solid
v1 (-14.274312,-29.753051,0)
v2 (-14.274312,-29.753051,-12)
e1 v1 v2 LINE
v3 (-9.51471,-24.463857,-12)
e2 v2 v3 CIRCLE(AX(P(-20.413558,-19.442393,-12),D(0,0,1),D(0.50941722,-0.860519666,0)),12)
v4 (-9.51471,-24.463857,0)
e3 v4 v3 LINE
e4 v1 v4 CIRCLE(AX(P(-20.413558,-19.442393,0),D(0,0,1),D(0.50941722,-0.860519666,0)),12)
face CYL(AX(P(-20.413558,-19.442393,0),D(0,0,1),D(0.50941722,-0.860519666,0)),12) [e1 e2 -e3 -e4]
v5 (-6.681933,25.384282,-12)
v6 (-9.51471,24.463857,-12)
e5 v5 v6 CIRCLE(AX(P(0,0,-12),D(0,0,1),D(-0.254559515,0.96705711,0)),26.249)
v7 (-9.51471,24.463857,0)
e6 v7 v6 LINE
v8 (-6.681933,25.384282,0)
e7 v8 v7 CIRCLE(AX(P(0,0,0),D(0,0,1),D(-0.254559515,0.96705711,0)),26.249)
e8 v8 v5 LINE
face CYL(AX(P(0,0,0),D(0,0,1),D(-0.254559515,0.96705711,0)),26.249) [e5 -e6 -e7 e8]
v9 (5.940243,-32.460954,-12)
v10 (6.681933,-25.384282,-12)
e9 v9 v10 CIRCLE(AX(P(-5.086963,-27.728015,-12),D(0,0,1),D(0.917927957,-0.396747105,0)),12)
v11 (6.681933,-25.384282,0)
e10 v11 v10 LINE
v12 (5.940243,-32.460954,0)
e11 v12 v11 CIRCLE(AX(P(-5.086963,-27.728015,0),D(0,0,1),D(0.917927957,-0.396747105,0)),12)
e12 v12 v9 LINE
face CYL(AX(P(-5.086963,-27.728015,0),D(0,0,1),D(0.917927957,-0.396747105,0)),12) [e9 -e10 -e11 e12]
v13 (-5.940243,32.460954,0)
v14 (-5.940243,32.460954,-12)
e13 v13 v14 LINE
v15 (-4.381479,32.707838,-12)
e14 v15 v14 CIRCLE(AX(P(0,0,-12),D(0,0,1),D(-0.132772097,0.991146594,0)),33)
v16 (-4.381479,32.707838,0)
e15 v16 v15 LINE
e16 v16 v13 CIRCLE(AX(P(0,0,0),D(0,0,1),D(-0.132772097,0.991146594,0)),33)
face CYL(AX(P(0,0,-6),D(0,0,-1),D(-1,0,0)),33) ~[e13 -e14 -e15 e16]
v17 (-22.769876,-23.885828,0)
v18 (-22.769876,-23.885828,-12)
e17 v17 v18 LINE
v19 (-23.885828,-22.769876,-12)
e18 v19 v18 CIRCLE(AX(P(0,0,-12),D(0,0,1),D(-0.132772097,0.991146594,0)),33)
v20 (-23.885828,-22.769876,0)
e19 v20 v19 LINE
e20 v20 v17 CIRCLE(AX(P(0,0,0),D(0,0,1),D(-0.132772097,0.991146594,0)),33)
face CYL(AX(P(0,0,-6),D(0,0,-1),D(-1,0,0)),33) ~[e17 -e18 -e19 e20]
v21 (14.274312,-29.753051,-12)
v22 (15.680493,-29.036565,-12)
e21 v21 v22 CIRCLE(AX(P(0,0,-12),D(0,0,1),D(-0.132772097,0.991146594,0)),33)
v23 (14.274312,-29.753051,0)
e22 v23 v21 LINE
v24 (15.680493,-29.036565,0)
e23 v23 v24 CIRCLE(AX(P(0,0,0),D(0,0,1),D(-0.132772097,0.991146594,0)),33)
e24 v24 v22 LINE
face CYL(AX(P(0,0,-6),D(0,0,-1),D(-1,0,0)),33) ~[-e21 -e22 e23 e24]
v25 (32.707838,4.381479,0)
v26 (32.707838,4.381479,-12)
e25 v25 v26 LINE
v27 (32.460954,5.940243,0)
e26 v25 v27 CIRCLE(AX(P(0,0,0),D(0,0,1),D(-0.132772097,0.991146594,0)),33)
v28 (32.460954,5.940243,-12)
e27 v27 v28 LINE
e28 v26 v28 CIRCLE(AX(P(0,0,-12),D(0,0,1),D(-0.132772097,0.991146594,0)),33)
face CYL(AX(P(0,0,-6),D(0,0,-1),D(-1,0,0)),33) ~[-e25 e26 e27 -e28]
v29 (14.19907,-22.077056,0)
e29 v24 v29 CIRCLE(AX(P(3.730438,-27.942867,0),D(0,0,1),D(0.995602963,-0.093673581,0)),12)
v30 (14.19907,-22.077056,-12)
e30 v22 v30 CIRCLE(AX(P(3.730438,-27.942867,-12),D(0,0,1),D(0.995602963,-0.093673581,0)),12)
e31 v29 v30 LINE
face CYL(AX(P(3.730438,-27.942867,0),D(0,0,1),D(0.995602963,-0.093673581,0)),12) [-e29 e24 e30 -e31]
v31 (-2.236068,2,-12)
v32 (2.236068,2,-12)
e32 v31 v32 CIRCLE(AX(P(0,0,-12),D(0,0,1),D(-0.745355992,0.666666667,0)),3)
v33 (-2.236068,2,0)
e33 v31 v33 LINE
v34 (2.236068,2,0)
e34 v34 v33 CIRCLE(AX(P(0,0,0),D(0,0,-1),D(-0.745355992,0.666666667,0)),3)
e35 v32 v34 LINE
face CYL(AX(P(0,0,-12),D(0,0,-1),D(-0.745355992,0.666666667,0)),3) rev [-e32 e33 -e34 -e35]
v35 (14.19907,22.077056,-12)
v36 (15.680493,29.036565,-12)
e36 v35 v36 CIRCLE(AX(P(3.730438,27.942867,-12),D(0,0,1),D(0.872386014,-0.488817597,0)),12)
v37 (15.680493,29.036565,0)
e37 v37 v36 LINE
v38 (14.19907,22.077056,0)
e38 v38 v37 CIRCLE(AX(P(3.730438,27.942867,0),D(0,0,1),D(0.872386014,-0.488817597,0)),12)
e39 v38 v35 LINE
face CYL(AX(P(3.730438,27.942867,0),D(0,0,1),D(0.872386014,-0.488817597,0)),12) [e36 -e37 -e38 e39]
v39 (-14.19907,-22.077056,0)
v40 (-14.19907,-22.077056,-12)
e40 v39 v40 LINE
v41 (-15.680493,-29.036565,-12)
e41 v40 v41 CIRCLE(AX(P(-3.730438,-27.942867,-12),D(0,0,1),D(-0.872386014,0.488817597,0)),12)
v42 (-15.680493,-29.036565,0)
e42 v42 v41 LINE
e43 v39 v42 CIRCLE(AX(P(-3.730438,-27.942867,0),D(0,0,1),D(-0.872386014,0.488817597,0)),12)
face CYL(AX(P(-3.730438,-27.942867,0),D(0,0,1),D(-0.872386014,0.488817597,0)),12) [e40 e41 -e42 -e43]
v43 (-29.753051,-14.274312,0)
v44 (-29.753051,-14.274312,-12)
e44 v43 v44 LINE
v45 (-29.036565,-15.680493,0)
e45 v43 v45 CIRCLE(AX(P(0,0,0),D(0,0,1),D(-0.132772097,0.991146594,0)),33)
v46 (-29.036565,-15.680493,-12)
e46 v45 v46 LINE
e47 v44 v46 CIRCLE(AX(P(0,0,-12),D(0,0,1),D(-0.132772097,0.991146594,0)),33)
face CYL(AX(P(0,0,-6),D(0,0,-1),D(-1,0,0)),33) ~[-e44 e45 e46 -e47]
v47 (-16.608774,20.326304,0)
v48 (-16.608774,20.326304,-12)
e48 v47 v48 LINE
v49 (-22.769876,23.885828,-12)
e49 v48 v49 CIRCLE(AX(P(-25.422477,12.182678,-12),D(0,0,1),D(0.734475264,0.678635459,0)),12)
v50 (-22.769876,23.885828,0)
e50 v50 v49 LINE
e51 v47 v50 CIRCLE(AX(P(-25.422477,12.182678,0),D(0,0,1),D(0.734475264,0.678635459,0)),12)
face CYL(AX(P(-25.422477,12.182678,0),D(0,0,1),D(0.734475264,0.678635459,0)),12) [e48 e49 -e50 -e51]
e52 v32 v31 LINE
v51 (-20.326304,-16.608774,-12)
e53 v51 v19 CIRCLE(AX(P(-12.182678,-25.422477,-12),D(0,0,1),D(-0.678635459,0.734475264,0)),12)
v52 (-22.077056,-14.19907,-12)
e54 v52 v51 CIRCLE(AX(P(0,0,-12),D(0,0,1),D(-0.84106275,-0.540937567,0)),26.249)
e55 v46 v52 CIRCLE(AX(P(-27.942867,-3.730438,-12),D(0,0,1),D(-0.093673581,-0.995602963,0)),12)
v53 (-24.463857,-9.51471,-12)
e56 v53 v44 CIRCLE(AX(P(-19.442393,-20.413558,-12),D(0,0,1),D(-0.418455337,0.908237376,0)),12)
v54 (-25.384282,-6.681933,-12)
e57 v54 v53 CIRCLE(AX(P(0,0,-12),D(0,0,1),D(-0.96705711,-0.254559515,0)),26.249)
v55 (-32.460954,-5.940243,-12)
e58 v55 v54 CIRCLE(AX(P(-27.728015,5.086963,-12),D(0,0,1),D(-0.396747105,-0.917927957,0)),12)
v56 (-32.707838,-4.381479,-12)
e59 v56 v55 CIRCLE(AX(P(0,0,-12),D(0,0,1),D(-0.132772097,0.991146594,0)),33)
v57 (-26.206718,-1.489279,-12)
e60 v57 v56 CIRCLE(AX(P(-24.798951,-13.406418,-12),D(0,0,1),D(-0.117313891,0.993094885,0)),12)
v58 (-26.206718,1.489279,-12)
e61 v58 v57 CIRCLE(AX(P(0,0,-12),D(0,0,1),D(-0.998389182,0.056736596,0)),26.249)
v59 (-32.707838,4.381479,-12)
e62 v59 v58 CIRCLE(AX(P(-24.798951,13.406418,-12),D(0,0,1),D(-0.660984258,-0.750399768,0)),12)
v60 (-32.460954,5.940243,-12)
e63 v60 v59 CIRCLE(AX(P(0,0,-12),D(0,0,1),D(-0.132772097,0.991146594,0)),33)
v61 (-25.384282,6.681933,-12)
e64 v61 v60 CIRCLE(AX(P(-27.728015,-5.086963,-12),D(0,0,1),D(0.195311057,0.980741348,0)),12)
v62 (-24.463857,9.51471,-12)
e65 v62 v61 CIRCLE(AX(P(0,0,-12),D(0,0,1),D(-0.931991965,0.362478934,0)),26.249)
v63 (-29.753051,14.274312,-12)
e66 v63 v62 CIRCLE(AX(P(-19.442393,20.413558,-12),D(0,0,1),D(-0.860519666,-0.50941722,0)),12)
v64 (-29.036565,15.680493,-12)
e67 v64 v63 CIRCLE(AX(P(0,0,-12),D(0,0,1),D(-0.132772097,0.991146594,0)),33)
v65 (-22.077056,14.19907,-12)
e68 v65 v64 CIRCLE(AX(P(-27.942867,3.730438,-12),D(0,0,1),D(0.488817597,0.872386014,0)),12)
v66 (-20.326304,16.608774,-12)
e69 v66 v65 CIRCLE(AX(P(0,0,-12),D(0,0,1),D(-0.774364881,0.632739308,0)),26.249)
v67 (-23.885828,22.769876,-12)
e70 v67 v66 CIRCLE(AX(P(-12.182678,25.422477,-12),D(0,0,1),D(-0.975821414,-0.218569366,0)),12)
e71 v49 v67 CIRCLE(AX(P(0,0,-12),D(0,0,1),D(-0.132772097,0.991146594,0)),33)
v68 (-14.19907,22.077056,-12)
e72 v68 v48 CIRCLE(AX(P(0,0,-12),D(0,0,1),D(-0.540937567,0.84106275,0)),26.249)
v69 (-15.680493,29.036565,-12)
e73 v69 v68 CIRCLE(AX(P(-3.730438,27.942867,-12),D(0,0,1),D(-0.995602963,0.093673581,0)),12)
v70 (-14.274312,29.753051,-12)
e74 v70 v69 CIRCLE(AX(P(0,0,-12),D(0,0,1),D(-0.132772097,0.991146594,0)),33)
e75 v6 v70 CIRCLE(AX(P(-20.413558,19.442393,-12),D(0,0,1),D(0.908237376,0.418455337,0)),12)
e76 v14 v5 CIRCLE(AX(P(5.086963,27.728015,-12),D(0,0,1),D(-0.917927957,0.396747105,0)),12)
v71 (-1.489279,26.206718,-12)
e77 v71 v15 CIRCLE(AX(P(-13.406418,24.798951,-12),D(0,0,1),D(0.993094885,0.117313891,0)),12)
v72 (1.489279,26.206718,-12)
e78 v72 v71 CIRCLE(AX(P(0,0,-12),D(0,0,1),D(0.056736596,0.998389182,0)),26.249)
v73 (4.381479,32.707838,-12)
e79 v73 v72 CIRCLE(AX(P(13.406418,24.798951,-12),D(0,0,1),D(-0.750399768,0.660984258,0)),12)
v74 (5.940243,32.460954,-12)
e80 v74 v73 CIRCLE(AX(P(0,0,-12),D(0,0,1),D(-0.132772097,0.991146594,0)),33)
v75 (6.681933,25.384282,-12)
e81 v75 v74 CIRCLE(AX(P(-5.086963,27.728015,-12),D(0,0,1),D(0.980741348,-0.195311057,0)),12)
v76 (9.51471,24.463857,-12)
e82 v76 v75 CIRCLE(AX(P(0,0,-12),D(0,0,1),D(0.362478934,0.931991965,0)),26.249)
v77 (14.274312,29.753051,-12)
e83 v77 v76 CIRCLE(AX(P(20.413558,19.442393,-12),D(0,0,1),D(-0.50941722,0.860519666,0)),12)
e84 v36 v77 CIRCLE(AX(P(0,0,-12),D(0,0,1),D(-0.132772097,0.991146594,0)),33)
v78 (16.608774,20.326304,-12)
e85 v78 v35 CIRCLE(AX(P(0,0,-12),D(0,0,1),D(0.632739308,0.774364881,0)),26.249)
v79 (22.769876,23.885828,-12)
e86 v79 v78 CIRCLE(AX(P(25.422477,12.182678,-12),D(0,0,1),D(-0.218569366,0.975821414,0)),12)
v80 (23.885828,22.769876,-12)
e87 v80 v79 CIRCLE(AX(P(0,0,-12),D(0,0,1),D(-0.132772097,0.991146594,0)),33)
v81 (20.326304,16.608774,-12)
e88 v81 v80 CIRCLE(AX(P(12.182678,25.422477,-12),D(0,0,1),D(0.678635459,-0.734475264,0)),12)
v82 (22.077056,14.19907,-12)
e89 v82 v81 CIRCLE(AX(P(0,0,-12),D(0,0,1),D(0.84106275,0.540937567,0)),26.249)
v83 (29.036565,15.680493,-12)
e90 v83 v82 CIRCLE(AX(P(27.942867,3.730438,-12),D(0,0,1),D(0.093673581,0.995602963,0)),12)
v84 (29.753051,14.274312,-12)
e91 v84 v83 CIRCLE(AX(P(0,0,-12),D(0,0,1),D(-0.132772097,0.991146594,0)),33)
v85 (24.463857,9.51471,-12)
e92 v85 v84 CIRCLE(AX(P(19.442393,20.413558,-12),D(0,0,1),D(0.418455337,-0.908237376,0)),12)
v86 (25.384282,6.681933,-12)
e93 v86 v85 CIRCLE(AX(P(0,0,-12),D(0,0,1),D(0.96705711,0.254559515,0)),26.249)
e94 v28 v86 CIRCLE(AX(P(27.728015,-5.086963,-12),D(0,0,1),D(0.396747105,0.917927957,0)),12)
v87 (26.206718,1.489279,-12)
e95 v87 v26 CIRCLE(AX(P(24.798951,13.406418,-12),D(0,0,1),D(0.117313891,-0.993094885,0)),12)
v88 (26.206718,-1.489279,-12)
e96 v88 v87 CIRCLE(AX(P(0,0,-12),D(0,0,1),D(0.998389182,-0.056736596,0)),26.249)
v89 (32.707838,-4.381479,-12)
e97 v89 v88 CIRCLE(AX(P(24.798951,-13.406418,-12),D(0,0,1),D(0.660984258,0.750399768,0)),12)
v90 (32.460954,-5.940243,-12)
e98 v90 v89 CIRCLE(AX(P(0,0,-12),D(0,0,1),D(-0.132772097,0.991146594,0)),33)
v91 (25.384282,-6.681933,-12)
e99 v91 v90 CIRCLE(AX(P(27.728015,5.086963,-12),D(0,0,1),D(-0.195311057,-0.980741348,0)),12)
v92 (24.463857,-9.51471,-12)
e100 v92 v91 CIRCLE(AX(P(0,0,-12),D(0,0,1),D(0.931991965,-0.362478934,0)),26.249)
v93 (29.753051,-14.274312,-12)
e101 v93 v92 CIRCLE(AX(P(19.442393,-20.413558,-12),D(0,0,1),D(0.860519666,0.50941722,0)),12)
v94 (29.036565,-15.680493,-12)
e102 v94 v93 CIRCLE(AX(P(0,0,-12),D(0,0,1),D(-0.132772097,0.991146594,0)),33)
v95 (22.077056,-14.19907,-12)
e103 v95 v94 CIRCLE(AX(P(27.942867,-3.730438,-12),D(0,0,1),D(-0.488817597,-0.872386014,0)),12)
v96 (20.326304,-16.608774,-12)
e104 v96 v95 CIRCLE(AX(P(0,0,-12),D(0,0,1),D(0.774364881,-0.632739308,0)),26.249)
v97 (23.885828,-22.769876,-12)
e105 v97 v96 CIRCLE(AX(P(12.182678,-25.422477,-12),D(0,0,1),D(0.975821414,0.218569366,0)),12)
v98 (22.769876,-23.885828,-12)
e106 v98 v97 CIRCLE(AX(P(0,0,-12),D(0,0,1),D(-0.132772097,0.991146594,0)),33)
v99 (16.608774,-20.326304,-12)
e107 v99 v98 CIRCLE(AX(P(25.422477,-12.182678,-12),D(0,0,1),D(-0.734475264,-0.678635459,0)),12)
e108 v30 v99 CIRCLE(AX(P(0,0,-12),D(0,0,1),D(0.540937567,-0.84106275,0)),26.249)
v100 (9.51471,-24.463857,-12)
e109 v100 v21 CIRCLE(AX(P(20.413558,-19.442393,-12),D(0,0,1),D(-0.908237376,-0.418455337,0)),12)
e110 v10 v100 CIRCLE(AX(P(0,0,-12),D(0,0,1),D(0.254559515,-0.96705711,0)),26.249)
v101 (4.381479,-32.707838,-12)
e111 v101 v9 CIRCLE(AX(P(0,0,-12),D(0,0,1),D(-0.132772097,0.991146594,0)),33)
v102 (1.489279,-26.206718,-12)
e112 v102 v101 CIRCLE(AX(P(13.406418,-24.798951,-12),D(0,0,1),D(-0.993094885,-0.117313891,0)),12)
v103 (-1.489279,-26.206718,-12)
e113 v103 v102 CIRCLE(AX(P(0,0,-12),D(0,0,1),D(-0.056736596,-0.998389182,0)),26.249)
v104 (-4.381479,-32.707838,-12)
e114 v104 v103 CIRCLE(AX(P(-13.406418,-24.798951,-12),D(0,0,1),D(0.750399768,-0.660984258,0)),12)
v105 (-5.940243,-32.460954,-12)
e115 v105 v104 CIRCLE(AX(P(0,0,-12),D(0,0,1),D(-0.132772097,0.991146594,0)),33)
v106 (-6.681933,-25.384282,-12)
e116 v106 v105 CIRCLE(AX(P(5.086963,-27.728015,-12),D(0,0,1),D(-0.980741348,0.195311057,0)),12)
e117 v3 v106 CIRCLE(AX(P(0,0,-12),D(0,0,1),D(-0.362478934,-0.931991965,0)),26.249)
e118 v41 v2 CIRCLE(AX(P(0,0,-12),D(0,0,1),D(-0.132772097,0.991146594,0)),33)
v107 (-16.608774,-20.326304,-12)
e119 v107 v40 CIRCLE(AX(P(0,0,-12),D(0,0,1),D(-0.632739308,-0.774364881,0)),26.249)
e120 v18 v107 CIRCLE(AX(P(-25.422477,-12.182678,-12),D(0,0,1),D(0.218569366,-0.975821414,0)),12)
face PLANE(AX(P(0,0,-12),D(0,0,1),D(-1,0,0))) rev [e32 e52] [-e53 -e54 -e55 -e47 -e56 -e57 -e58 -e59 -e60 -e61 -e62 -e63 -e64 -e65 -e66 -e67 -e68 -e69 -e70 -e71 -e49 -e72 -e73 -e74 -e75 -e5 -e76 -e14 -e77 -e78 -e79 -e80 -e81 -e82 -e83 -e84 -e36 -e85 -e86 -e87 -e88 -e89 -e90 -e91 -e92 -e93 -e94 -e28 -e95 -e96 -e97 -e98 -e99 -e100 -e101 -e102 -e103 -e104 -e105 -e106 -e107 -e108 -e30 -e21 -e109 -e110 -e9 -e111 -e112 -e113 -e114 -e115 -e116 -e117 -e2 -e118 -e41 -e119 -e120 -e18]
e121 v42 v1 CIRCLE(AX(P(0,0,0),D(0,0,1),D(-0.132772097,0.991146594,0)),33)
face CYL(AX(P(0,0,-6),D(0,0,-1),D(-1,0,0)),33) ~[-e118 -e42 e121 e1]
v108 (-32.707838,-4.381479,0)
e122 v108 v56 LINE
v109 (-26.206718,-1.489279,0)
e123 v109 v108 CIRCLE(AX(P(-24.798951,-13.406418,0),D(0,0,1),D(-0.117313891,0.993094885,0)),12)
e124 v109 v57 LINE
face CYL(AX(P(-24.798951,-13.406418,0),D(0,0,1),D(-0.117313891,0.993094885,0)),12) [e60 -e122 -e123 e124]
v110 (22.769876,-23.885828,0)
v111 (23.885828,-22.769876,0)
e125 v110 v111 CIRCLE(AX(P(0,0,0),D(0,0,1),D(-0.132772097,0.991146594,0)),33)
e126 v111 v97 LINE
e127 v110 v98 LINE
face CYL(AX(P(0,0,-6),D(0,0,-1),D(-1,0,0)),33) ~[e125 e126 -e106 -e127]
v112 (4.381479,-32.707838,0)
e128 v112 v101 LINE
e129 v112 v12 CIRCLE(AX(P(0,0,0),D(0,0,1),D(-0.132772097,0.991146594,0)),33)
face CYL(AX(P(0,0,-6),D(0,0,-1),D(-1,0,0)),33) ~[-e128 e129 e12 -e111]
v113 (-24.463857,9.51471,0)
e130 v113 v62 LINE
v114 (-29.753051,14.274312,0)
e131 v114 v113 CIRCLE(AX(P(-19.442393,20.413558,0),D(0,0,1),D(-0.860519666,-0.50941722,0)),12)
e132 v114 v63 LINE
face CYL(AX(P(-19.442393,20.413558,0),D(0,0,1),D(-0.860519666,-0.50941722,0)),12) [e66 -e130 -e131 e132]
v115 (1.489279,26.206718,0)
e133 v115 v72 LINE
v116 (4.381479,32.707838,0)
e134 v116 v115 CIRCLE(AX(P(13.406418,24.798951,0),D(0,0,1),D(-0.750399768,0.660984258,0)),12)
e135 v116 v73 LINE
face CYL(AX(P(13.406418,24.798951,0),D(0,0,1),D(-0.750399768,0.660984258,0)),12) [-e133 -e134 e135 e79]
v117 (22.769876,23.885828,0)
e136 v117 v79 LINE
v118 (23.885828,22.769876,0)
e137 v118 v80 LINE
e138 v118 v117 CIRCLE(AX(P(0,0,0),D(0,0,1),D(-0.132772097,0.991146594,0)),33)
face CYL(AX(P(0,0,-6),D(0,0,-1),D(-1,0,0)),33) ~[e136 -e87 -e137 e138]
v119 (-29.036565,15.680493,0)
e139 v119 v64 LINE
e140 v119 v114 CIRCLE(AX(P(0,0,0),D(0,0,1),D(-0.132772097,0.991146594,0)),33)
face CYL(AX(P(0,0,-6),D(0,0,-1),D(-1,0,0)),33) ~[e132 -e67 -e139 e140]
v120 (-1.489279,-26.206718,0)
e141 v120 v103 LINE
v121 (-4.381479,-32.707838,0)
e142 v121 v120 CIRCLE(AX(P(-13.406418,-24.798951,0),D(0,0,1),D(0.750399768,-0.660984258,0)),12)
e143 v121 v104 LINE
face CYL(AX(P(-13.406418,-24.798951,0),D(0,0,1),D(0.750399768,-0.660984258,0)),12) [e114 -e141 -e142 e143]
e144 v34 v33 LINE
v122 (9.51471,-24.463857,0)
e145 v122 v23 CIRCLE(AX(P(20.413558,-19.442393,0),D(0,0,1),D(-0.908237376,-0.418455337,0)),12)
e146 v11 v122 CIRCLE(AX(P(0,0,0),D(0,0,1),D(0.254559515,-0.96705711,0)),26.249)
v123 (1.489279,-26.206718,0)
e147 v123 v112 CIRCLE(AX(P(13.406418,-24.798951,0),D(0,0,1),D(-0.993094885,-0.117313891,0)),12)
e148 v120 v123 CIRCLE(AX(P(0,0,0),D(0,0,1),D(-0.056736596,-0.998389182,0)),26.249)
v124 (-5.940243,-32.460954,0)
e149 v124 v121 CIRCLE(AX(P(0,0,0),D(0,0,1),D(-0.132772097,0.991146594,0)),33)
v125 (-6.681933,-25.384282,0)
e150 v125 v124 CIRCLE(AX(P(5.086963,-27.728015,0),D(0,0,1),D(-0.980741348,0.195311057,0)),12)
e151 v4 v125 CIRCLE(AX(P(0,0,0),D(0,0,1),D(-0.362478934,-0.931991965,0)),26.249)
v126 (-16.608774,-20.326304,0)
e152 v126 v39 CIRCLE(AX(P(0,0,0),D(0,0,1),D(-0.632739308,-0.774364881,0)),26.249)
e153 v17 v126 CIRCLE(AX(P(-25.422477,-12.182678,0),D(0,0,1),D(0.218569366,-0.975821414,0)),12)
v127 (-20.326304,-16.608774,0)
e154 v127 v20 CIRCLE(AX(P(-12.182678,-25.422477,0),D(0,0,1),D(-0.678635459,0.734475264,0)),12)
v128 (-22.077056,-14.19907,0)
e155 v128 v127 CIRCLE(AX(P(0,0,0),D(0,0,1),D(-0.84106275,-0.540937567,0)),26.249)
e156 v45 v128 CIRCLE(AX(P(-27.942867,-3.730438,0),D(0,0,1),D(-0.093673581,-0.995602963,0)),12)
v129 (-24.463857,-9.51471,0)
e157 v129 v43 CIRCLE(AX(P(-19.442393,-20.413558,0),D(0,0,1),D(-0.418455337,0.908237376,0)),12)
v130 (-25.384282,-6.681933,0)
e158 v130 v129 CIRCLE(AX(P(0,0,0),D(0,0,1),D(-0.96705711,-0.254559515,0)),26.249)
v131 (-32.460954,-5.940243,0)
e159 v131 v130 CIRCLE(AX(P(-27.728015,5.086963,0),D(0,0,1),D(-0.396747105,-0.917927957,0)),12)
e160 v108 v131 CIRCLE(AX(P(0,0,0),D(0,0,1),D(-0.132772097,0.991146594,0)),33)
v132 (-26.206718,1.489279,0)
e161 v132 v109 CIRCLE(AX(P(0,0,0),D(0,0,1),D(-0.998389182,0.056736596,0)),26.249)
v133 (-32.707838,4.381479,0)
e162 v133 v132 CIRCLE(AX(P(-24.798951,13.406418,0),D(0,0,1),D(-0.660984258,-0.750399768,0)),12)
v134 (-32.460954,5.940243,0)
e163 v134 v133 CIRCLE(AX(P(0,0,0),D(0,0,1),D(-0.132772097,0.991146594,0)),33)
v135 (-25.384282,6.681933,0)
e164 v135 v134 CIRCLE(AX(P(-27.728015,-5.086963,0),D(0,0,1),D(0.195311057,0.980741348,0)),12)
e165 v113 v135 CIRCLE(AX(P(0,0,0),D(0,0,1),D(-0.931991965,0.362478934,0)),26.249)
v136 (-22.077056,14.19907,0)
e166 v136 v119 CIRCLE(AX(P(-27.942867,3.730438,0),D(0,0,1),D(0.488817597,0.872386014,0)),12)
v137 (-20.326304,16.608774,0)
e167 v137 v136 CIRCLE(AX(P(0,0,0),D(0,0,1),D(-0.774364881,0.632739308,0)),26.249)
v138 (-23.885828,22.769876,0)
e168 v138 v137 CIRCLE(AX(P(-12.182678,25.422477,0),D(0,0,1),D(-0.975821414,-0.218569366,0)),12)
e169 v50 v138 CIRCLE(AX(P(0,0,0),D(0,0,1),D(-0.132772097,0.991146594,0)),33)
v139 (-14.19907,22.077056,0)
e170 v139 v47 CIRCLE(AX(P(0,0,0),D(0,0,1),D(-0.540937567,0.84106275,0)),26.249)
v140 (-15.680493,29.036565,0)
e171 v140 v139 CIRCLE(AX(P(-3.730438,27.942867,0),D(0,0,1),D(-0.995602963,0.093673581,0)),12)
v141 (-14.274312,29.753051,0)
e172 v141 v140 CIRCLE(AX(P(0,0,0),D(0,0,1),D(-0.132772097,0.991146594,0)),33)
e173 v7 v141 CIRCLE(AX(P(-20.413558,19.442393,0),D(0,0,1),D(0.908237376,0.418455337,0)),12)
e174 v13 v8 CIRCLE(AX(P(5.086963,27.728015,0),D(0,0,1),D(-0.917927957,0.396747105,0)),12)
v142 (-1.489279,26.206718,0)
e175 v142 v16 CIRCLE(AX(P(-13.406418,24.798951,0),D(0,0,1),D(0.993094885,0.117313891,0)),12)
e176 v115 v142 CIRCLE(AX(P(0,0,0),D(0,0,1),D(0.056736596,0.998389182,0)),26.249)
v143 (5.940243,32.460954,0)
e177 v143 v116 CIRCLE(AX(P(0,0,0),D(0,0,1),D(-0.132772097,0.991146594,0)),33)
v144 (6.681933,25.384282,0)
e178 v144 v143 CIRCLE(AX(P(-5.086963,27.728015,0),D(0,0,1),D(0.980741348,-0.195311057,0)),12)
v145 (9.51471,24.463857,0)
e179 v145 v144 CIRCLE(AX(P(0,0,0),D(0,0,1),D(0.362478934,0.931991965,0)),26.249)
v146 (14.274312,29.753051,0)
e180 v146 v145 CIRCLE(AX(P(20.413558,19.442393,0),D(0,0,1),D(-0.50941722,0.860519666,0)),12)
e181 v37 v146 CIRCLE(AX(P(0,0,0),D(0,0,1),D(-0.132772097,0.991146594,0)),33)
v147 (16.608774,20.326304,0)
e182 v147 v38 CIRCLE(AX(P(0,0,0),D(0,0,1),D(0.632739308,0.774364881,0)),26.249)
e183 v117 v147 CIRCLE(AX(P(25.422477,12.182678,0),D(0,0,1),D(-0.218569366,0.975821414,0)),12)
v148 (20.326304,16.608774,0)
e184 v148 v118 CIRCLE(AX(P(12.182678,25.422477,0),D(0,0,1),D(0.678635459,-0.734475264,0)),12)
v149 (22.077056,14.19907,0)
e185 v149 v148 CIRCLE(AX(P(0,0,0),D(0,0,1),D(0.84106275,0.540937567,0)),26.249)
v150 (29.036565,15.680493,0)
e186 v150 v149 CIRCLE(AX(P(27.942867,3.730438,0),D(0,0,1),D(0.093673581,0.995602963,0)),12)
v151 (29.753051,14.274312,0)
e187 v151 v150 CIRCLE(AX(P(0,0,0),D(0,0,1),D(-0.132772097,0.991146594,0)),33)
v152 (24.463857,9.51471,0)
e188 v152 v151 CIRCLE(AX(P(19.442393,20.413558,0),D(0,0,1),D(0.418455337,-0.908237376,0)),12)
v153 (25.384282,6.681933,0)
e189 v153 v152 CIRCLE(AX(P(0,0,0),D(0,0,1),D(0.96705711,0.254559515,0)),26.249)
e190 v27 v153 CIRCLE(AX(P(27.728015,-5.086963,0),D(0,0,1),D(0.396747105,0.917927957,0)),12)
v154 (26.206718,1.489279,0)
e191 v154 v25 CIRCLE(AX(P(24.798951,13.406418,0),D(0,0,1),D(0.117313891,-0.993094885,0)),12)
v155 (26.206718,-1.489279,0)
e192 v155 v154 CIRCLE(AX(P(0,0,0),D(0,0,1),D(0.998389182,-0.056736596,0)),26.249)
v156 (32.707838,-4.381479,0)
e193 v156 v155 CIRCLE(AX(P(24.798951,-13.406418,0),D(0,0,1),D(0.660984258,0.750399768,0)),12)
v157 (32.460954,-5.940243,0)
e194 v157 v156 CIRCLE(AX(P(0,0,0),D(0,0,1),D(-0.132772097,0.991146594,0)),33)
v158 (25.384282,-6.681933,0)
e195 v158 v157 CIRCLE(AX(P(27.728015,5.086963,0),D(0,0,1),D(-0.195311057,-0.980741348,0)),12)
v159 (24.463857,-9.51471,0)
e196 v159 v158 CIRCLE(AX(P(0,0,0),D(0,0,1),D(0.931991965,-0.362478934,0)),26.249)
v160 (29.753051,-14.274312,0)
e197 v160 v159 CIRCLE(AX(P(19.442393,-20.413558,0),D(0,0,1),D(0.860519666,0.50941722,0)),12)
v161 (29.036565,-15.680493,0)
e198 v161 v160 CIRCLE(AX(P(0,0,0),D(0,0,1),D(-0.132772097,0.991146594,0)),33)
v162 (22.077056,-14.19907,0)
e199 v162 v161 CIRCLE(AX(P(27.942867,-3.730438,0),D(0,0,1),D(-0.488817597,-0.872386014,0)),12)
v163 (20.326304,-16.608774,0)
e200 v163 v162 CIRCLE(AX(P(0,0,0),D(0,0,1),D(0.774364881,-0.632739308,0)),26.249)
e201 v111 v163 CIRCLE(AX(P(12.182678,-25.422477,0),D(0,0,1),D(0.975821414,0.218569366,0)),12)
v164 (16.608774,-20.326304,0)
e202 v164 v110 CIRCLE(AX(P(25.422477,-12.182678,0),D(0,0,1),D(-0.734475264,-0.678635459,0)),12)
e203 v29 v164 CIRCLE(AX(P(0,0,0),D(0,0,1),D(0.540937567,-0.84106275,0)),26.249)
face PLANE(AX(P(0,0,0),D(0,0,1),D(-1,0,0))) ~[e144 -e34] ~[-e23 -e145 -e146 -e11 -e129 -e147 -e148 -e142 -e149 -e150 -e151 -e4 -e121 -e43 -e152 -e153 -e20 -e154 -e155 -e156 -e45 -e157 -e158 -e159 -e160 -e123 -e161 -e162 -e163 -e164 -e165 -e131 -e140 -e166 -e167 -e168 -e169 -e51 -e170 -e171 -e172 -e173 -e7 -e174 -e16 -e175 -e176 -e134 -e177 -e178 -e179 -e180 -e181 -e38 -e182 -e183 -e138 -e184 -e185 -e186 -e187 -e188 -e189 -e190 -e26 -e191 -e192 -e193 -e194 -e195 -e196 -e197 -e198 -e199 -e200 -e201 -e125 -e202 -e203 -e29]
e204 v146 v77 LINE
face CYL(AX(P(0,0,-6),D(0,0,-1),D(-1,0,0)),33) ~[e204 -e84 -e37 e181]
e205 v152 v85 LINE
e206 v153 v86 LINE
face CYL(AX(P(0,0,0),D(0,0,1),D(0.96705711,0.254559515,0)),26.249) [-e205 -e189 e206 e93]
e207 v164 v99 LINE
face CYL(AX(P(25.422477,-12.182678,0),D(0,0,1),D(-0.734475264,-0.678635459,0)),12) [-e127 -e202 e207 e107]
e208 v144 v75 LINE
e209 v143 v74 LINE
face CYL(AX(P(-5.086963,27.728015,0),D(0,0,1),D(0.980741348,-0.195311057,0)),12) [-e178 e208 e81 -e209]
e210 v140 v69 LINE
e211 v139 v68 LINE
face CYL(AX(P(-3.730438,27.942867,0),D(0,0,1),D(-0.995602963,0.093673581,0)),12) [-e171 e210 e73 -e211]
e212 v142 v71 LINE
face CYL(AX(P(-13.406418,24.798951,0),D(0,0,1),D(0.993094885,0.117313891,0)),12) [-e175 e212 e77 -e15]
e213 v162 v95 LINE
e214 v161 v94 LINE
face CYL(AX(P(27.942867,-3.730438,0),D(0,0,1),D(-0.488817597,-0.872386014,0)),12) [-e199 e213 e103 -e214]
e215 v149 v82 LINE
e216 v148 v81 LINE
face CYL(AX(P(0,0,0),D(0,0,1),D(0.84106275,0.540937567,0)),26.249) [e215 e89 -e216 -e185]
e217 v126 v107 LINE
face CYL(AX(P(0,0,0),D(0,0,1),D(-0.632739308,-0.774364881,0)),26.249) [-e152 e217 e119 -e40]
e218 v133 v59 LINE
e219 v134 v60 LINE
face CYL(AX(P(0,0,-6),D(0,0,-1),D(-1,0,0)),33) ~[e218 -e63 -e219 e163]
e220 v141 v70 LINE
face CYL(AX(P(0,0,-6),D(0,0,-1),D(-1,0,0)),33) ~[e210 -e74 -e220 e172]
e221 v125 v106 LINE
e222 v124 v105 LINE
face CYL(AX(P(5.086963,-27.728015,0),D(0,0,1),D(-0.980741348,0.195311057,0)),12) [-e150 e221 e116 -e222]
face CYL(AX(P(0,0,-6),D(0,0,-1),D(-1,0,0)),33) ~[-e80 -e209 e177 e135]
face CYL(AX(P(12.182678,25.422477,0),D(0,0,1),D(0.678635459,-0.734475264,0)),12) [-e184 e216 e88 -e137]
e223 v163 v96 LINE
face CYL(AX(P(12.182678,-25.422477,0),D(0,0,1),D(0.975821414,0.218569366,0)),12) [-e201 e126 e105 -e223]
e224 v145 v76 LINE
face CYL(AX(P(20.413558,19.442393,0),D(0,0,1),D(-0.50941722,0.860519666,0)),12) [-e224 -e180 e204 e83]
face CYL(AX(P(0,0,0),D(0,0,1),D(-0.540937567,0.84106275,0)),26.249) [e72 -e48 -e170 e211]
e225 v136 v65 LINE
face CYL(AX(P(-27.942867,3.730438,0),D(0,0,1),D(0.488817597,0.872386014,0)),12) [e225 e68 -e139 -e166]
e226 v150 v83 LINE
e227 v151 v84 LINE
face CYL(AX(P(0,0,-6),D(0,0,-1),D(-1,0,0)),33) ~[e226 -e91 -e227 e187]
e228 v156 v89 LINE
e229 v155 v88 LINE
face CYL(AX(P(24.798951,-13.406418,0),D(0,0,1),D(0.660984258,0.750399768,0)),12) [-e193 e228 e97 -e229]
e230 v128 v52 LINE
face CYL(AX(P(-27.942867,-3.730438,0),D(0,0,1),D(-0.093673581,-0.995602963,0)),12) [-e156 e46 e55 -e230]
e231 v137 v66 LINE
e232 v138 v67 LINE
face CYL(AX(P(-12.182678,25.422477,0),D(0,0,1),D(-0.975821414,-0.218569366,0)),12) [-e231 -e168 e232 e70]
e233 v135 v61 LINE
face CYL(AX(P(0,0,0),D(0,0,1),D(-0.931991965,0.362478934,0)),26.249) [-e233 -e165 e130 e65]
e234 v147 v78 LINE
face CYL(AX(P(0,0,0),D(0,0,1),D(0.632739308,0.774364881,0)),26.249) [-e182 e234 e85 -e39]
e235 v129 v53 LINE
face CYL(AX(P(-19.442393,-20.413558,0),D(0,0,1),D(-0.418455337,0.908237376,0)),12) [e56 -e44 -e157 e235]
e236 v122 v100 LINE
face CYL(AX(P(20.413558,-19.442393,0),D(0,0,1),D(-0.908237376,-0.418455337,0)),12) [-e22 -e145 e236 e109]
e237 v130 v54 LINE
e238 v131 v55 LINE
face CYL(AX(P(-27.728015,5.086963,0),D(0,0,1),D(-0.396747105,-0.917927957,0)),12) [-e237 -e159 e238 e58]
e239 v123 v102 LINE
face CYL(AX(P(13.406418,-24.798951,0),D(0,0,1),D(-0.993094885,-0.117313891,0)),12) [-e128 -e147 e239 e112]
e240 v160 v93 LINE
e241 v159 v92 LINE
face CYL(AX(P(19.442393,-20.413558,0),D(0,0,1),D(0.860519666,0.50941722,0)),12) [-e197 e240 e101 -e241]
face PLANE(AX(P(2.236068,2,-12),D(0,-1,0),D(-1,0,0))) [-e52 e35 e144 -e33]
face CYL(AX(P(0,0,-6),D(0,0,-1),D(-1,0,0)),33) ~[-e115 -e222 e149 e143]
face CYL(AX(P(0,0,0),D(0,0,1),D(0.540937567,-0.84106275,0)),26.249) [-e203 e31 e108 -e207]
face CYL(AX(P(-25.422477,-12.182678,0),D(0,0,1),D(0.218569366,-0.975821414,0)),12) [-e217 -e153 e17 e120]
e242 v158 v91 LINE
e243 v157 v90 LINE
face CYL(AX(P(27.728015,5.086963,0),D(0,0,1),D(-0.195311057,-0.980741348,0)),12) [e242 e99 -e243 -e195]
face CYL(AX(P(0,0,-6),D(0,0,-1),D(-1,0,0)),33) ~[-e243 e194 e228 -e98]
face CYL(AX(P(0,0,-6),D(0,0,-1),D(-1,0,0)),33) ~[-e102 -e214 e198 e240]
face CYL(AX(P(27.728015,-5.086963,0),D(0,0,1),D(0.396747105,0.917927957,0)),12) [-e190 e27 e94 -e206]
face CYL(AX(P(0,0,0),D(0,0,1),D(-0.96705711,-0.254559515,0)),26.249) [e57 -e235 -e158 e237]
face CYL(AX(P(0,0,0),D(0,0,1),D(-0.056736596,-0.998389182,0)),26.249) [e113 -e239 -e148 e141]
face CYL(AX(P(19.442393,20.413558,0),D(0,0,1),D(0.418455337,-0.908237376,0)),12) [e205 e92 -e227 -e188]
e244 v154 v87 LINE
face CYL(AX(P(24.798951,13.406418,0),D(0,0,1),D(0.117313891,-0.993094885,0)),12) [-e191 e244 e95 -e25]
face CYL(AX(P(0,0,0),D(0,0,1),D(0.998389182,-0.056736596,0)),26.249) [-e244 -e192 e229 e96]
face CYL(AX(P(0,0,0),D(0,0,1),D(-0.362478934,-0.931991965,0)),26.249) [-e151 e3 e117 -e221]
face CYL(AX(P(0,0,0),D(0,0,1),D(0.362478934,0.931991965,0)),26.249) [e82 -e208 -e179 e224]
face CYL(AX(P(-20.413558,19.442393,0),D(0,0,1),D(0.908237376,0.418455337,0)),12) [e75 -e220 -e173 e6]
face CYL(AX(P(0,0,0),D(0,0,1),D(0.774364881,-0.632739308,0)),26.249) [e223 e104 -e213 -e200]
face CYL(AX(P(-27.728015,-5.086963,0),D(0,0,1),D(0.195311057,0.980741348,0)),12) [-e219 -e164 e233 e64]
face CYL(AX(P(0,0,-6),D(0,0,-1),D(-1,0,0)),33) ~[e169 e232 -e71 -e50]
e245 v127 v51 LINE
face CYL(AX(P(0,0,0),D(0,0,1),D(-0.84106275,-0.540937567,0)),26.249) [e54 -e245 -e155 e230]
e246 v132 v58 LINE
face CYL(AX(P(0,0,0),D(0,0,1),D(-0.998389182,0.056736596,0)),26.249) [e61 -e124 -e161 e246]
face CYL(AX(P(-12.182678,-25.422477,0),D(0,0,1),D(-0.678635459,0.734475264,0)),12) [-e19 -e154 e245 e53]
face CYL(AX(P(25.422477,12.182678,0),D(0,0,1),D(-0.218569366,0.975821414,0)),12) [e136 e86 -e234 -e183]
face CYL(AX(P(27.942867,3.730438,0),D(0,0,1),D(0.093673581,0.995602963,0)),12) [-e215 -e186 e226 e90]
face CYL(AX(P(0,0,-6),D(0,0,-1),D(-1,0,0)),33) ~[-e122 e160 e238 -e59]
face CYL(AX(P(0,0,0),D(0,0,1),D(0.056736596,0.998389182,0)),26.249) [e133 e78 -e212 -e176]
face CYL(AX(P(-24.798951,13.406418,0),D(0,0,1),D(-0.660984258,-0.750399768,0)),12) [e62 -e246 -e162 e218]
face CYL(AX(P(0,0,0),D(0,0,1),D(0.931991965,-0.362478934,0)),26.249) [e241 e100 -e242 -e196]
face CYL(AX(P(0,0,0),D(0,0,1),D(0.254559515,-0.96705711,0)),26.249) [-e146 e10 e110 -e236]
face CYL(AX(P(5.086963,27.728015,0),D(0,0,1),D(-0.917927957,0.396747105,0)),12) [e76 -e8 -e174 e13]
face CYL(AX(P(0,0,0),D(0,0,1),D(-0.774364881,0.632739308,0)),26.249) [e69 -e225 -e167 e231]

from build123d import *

# Parameters (mm, degrees)
ESBO_O1_W             = 33
ESBO_O1_H             = 12
CORTE_EXTRUS_O2_DEPTH = 49.187135213
CORTE_EXTRUS_O3_DEPTH = 49.187135213
PADR_OCIRCULAR2_COUNT = 20


with BuildPart() as part:
    # Esboço1 → Revolução1 (revolve)
    with BuildSketch(Plane(origin=(0, 0, 0), x_dir=(1, 0, 0), z_dir=(0, 1, 0)), mode=Mode.PRIVATE) as revolu_o1_sk:
        with Locations((16.5, 6)):
            Rectangle(ESBO_O1_W, ESBO_O1_H)
    revolve(revolu_o1_sk.sketch.rotate(Axis((0, 0, 0), (0, 0, 1)), 180), axis=Axis((0, 0, 0), (0, 0, 1)))

    # Esboço3 → Corte-extrusão2 (cut, through all)
    with BuildSketch(Plane(origin=(0, 0, -12), x_dir=(-1, 0, 0), z_dir=(0, 0, -1))):
        with BuildLine():
            Line((-2.236067977, 2), (2.236067977, 2))
            ThreePointArc((2.236067977, 2), (0, -3), (-2.236067977, 2))
        make_face()
    extrude(amount=-CORTE_EXTRUS_O2_DEPTH, mode=Mode.SUBTRACT)

    # Esboço2 → Corte-extrusão3 (cut, through all)
    with BuildSketch(Plane.XY):
        with BuildLine():
            ThreePointArc((1.489278925, 26.206717637), (0, 26.249), (-1.489278925, 26.206717637))
            ThreePointArc((-1.489278925, 26.206717637), (-2.448651415, 29.690511169), (-4.401620335, 32.730762038))
            ThreePointArc((-4.401620335, 32.730762038), (0, 33.0254), (4.401620335, 32.730762038))
            ThreePointArc((4.401620335, 32.730762038), (2.448651415, 29.690511169), (1.489278925, 26.206717637))
        make_face()
    corte_extrus_o3 = extrude(amount=-CORTE_EXTRUS_O3_DEPTH, mode=Mode.SUBTRACT)

    # PadrãoCircular2: Corte-extrusão3 ×20 about axis
    padr_ocircular2_axis = Axis((0, 0, 0), (0, 0, 1))
    for i in range(1, PADR_OCIRCULAR2_COUNT):
        add(corte_extrus_o3.rotate(padr_ocircular2_axis, i * 360 / PADR_OCIRCULAR2_COUNT), mode=Mode.SUBTRACT)


solid = part.part
